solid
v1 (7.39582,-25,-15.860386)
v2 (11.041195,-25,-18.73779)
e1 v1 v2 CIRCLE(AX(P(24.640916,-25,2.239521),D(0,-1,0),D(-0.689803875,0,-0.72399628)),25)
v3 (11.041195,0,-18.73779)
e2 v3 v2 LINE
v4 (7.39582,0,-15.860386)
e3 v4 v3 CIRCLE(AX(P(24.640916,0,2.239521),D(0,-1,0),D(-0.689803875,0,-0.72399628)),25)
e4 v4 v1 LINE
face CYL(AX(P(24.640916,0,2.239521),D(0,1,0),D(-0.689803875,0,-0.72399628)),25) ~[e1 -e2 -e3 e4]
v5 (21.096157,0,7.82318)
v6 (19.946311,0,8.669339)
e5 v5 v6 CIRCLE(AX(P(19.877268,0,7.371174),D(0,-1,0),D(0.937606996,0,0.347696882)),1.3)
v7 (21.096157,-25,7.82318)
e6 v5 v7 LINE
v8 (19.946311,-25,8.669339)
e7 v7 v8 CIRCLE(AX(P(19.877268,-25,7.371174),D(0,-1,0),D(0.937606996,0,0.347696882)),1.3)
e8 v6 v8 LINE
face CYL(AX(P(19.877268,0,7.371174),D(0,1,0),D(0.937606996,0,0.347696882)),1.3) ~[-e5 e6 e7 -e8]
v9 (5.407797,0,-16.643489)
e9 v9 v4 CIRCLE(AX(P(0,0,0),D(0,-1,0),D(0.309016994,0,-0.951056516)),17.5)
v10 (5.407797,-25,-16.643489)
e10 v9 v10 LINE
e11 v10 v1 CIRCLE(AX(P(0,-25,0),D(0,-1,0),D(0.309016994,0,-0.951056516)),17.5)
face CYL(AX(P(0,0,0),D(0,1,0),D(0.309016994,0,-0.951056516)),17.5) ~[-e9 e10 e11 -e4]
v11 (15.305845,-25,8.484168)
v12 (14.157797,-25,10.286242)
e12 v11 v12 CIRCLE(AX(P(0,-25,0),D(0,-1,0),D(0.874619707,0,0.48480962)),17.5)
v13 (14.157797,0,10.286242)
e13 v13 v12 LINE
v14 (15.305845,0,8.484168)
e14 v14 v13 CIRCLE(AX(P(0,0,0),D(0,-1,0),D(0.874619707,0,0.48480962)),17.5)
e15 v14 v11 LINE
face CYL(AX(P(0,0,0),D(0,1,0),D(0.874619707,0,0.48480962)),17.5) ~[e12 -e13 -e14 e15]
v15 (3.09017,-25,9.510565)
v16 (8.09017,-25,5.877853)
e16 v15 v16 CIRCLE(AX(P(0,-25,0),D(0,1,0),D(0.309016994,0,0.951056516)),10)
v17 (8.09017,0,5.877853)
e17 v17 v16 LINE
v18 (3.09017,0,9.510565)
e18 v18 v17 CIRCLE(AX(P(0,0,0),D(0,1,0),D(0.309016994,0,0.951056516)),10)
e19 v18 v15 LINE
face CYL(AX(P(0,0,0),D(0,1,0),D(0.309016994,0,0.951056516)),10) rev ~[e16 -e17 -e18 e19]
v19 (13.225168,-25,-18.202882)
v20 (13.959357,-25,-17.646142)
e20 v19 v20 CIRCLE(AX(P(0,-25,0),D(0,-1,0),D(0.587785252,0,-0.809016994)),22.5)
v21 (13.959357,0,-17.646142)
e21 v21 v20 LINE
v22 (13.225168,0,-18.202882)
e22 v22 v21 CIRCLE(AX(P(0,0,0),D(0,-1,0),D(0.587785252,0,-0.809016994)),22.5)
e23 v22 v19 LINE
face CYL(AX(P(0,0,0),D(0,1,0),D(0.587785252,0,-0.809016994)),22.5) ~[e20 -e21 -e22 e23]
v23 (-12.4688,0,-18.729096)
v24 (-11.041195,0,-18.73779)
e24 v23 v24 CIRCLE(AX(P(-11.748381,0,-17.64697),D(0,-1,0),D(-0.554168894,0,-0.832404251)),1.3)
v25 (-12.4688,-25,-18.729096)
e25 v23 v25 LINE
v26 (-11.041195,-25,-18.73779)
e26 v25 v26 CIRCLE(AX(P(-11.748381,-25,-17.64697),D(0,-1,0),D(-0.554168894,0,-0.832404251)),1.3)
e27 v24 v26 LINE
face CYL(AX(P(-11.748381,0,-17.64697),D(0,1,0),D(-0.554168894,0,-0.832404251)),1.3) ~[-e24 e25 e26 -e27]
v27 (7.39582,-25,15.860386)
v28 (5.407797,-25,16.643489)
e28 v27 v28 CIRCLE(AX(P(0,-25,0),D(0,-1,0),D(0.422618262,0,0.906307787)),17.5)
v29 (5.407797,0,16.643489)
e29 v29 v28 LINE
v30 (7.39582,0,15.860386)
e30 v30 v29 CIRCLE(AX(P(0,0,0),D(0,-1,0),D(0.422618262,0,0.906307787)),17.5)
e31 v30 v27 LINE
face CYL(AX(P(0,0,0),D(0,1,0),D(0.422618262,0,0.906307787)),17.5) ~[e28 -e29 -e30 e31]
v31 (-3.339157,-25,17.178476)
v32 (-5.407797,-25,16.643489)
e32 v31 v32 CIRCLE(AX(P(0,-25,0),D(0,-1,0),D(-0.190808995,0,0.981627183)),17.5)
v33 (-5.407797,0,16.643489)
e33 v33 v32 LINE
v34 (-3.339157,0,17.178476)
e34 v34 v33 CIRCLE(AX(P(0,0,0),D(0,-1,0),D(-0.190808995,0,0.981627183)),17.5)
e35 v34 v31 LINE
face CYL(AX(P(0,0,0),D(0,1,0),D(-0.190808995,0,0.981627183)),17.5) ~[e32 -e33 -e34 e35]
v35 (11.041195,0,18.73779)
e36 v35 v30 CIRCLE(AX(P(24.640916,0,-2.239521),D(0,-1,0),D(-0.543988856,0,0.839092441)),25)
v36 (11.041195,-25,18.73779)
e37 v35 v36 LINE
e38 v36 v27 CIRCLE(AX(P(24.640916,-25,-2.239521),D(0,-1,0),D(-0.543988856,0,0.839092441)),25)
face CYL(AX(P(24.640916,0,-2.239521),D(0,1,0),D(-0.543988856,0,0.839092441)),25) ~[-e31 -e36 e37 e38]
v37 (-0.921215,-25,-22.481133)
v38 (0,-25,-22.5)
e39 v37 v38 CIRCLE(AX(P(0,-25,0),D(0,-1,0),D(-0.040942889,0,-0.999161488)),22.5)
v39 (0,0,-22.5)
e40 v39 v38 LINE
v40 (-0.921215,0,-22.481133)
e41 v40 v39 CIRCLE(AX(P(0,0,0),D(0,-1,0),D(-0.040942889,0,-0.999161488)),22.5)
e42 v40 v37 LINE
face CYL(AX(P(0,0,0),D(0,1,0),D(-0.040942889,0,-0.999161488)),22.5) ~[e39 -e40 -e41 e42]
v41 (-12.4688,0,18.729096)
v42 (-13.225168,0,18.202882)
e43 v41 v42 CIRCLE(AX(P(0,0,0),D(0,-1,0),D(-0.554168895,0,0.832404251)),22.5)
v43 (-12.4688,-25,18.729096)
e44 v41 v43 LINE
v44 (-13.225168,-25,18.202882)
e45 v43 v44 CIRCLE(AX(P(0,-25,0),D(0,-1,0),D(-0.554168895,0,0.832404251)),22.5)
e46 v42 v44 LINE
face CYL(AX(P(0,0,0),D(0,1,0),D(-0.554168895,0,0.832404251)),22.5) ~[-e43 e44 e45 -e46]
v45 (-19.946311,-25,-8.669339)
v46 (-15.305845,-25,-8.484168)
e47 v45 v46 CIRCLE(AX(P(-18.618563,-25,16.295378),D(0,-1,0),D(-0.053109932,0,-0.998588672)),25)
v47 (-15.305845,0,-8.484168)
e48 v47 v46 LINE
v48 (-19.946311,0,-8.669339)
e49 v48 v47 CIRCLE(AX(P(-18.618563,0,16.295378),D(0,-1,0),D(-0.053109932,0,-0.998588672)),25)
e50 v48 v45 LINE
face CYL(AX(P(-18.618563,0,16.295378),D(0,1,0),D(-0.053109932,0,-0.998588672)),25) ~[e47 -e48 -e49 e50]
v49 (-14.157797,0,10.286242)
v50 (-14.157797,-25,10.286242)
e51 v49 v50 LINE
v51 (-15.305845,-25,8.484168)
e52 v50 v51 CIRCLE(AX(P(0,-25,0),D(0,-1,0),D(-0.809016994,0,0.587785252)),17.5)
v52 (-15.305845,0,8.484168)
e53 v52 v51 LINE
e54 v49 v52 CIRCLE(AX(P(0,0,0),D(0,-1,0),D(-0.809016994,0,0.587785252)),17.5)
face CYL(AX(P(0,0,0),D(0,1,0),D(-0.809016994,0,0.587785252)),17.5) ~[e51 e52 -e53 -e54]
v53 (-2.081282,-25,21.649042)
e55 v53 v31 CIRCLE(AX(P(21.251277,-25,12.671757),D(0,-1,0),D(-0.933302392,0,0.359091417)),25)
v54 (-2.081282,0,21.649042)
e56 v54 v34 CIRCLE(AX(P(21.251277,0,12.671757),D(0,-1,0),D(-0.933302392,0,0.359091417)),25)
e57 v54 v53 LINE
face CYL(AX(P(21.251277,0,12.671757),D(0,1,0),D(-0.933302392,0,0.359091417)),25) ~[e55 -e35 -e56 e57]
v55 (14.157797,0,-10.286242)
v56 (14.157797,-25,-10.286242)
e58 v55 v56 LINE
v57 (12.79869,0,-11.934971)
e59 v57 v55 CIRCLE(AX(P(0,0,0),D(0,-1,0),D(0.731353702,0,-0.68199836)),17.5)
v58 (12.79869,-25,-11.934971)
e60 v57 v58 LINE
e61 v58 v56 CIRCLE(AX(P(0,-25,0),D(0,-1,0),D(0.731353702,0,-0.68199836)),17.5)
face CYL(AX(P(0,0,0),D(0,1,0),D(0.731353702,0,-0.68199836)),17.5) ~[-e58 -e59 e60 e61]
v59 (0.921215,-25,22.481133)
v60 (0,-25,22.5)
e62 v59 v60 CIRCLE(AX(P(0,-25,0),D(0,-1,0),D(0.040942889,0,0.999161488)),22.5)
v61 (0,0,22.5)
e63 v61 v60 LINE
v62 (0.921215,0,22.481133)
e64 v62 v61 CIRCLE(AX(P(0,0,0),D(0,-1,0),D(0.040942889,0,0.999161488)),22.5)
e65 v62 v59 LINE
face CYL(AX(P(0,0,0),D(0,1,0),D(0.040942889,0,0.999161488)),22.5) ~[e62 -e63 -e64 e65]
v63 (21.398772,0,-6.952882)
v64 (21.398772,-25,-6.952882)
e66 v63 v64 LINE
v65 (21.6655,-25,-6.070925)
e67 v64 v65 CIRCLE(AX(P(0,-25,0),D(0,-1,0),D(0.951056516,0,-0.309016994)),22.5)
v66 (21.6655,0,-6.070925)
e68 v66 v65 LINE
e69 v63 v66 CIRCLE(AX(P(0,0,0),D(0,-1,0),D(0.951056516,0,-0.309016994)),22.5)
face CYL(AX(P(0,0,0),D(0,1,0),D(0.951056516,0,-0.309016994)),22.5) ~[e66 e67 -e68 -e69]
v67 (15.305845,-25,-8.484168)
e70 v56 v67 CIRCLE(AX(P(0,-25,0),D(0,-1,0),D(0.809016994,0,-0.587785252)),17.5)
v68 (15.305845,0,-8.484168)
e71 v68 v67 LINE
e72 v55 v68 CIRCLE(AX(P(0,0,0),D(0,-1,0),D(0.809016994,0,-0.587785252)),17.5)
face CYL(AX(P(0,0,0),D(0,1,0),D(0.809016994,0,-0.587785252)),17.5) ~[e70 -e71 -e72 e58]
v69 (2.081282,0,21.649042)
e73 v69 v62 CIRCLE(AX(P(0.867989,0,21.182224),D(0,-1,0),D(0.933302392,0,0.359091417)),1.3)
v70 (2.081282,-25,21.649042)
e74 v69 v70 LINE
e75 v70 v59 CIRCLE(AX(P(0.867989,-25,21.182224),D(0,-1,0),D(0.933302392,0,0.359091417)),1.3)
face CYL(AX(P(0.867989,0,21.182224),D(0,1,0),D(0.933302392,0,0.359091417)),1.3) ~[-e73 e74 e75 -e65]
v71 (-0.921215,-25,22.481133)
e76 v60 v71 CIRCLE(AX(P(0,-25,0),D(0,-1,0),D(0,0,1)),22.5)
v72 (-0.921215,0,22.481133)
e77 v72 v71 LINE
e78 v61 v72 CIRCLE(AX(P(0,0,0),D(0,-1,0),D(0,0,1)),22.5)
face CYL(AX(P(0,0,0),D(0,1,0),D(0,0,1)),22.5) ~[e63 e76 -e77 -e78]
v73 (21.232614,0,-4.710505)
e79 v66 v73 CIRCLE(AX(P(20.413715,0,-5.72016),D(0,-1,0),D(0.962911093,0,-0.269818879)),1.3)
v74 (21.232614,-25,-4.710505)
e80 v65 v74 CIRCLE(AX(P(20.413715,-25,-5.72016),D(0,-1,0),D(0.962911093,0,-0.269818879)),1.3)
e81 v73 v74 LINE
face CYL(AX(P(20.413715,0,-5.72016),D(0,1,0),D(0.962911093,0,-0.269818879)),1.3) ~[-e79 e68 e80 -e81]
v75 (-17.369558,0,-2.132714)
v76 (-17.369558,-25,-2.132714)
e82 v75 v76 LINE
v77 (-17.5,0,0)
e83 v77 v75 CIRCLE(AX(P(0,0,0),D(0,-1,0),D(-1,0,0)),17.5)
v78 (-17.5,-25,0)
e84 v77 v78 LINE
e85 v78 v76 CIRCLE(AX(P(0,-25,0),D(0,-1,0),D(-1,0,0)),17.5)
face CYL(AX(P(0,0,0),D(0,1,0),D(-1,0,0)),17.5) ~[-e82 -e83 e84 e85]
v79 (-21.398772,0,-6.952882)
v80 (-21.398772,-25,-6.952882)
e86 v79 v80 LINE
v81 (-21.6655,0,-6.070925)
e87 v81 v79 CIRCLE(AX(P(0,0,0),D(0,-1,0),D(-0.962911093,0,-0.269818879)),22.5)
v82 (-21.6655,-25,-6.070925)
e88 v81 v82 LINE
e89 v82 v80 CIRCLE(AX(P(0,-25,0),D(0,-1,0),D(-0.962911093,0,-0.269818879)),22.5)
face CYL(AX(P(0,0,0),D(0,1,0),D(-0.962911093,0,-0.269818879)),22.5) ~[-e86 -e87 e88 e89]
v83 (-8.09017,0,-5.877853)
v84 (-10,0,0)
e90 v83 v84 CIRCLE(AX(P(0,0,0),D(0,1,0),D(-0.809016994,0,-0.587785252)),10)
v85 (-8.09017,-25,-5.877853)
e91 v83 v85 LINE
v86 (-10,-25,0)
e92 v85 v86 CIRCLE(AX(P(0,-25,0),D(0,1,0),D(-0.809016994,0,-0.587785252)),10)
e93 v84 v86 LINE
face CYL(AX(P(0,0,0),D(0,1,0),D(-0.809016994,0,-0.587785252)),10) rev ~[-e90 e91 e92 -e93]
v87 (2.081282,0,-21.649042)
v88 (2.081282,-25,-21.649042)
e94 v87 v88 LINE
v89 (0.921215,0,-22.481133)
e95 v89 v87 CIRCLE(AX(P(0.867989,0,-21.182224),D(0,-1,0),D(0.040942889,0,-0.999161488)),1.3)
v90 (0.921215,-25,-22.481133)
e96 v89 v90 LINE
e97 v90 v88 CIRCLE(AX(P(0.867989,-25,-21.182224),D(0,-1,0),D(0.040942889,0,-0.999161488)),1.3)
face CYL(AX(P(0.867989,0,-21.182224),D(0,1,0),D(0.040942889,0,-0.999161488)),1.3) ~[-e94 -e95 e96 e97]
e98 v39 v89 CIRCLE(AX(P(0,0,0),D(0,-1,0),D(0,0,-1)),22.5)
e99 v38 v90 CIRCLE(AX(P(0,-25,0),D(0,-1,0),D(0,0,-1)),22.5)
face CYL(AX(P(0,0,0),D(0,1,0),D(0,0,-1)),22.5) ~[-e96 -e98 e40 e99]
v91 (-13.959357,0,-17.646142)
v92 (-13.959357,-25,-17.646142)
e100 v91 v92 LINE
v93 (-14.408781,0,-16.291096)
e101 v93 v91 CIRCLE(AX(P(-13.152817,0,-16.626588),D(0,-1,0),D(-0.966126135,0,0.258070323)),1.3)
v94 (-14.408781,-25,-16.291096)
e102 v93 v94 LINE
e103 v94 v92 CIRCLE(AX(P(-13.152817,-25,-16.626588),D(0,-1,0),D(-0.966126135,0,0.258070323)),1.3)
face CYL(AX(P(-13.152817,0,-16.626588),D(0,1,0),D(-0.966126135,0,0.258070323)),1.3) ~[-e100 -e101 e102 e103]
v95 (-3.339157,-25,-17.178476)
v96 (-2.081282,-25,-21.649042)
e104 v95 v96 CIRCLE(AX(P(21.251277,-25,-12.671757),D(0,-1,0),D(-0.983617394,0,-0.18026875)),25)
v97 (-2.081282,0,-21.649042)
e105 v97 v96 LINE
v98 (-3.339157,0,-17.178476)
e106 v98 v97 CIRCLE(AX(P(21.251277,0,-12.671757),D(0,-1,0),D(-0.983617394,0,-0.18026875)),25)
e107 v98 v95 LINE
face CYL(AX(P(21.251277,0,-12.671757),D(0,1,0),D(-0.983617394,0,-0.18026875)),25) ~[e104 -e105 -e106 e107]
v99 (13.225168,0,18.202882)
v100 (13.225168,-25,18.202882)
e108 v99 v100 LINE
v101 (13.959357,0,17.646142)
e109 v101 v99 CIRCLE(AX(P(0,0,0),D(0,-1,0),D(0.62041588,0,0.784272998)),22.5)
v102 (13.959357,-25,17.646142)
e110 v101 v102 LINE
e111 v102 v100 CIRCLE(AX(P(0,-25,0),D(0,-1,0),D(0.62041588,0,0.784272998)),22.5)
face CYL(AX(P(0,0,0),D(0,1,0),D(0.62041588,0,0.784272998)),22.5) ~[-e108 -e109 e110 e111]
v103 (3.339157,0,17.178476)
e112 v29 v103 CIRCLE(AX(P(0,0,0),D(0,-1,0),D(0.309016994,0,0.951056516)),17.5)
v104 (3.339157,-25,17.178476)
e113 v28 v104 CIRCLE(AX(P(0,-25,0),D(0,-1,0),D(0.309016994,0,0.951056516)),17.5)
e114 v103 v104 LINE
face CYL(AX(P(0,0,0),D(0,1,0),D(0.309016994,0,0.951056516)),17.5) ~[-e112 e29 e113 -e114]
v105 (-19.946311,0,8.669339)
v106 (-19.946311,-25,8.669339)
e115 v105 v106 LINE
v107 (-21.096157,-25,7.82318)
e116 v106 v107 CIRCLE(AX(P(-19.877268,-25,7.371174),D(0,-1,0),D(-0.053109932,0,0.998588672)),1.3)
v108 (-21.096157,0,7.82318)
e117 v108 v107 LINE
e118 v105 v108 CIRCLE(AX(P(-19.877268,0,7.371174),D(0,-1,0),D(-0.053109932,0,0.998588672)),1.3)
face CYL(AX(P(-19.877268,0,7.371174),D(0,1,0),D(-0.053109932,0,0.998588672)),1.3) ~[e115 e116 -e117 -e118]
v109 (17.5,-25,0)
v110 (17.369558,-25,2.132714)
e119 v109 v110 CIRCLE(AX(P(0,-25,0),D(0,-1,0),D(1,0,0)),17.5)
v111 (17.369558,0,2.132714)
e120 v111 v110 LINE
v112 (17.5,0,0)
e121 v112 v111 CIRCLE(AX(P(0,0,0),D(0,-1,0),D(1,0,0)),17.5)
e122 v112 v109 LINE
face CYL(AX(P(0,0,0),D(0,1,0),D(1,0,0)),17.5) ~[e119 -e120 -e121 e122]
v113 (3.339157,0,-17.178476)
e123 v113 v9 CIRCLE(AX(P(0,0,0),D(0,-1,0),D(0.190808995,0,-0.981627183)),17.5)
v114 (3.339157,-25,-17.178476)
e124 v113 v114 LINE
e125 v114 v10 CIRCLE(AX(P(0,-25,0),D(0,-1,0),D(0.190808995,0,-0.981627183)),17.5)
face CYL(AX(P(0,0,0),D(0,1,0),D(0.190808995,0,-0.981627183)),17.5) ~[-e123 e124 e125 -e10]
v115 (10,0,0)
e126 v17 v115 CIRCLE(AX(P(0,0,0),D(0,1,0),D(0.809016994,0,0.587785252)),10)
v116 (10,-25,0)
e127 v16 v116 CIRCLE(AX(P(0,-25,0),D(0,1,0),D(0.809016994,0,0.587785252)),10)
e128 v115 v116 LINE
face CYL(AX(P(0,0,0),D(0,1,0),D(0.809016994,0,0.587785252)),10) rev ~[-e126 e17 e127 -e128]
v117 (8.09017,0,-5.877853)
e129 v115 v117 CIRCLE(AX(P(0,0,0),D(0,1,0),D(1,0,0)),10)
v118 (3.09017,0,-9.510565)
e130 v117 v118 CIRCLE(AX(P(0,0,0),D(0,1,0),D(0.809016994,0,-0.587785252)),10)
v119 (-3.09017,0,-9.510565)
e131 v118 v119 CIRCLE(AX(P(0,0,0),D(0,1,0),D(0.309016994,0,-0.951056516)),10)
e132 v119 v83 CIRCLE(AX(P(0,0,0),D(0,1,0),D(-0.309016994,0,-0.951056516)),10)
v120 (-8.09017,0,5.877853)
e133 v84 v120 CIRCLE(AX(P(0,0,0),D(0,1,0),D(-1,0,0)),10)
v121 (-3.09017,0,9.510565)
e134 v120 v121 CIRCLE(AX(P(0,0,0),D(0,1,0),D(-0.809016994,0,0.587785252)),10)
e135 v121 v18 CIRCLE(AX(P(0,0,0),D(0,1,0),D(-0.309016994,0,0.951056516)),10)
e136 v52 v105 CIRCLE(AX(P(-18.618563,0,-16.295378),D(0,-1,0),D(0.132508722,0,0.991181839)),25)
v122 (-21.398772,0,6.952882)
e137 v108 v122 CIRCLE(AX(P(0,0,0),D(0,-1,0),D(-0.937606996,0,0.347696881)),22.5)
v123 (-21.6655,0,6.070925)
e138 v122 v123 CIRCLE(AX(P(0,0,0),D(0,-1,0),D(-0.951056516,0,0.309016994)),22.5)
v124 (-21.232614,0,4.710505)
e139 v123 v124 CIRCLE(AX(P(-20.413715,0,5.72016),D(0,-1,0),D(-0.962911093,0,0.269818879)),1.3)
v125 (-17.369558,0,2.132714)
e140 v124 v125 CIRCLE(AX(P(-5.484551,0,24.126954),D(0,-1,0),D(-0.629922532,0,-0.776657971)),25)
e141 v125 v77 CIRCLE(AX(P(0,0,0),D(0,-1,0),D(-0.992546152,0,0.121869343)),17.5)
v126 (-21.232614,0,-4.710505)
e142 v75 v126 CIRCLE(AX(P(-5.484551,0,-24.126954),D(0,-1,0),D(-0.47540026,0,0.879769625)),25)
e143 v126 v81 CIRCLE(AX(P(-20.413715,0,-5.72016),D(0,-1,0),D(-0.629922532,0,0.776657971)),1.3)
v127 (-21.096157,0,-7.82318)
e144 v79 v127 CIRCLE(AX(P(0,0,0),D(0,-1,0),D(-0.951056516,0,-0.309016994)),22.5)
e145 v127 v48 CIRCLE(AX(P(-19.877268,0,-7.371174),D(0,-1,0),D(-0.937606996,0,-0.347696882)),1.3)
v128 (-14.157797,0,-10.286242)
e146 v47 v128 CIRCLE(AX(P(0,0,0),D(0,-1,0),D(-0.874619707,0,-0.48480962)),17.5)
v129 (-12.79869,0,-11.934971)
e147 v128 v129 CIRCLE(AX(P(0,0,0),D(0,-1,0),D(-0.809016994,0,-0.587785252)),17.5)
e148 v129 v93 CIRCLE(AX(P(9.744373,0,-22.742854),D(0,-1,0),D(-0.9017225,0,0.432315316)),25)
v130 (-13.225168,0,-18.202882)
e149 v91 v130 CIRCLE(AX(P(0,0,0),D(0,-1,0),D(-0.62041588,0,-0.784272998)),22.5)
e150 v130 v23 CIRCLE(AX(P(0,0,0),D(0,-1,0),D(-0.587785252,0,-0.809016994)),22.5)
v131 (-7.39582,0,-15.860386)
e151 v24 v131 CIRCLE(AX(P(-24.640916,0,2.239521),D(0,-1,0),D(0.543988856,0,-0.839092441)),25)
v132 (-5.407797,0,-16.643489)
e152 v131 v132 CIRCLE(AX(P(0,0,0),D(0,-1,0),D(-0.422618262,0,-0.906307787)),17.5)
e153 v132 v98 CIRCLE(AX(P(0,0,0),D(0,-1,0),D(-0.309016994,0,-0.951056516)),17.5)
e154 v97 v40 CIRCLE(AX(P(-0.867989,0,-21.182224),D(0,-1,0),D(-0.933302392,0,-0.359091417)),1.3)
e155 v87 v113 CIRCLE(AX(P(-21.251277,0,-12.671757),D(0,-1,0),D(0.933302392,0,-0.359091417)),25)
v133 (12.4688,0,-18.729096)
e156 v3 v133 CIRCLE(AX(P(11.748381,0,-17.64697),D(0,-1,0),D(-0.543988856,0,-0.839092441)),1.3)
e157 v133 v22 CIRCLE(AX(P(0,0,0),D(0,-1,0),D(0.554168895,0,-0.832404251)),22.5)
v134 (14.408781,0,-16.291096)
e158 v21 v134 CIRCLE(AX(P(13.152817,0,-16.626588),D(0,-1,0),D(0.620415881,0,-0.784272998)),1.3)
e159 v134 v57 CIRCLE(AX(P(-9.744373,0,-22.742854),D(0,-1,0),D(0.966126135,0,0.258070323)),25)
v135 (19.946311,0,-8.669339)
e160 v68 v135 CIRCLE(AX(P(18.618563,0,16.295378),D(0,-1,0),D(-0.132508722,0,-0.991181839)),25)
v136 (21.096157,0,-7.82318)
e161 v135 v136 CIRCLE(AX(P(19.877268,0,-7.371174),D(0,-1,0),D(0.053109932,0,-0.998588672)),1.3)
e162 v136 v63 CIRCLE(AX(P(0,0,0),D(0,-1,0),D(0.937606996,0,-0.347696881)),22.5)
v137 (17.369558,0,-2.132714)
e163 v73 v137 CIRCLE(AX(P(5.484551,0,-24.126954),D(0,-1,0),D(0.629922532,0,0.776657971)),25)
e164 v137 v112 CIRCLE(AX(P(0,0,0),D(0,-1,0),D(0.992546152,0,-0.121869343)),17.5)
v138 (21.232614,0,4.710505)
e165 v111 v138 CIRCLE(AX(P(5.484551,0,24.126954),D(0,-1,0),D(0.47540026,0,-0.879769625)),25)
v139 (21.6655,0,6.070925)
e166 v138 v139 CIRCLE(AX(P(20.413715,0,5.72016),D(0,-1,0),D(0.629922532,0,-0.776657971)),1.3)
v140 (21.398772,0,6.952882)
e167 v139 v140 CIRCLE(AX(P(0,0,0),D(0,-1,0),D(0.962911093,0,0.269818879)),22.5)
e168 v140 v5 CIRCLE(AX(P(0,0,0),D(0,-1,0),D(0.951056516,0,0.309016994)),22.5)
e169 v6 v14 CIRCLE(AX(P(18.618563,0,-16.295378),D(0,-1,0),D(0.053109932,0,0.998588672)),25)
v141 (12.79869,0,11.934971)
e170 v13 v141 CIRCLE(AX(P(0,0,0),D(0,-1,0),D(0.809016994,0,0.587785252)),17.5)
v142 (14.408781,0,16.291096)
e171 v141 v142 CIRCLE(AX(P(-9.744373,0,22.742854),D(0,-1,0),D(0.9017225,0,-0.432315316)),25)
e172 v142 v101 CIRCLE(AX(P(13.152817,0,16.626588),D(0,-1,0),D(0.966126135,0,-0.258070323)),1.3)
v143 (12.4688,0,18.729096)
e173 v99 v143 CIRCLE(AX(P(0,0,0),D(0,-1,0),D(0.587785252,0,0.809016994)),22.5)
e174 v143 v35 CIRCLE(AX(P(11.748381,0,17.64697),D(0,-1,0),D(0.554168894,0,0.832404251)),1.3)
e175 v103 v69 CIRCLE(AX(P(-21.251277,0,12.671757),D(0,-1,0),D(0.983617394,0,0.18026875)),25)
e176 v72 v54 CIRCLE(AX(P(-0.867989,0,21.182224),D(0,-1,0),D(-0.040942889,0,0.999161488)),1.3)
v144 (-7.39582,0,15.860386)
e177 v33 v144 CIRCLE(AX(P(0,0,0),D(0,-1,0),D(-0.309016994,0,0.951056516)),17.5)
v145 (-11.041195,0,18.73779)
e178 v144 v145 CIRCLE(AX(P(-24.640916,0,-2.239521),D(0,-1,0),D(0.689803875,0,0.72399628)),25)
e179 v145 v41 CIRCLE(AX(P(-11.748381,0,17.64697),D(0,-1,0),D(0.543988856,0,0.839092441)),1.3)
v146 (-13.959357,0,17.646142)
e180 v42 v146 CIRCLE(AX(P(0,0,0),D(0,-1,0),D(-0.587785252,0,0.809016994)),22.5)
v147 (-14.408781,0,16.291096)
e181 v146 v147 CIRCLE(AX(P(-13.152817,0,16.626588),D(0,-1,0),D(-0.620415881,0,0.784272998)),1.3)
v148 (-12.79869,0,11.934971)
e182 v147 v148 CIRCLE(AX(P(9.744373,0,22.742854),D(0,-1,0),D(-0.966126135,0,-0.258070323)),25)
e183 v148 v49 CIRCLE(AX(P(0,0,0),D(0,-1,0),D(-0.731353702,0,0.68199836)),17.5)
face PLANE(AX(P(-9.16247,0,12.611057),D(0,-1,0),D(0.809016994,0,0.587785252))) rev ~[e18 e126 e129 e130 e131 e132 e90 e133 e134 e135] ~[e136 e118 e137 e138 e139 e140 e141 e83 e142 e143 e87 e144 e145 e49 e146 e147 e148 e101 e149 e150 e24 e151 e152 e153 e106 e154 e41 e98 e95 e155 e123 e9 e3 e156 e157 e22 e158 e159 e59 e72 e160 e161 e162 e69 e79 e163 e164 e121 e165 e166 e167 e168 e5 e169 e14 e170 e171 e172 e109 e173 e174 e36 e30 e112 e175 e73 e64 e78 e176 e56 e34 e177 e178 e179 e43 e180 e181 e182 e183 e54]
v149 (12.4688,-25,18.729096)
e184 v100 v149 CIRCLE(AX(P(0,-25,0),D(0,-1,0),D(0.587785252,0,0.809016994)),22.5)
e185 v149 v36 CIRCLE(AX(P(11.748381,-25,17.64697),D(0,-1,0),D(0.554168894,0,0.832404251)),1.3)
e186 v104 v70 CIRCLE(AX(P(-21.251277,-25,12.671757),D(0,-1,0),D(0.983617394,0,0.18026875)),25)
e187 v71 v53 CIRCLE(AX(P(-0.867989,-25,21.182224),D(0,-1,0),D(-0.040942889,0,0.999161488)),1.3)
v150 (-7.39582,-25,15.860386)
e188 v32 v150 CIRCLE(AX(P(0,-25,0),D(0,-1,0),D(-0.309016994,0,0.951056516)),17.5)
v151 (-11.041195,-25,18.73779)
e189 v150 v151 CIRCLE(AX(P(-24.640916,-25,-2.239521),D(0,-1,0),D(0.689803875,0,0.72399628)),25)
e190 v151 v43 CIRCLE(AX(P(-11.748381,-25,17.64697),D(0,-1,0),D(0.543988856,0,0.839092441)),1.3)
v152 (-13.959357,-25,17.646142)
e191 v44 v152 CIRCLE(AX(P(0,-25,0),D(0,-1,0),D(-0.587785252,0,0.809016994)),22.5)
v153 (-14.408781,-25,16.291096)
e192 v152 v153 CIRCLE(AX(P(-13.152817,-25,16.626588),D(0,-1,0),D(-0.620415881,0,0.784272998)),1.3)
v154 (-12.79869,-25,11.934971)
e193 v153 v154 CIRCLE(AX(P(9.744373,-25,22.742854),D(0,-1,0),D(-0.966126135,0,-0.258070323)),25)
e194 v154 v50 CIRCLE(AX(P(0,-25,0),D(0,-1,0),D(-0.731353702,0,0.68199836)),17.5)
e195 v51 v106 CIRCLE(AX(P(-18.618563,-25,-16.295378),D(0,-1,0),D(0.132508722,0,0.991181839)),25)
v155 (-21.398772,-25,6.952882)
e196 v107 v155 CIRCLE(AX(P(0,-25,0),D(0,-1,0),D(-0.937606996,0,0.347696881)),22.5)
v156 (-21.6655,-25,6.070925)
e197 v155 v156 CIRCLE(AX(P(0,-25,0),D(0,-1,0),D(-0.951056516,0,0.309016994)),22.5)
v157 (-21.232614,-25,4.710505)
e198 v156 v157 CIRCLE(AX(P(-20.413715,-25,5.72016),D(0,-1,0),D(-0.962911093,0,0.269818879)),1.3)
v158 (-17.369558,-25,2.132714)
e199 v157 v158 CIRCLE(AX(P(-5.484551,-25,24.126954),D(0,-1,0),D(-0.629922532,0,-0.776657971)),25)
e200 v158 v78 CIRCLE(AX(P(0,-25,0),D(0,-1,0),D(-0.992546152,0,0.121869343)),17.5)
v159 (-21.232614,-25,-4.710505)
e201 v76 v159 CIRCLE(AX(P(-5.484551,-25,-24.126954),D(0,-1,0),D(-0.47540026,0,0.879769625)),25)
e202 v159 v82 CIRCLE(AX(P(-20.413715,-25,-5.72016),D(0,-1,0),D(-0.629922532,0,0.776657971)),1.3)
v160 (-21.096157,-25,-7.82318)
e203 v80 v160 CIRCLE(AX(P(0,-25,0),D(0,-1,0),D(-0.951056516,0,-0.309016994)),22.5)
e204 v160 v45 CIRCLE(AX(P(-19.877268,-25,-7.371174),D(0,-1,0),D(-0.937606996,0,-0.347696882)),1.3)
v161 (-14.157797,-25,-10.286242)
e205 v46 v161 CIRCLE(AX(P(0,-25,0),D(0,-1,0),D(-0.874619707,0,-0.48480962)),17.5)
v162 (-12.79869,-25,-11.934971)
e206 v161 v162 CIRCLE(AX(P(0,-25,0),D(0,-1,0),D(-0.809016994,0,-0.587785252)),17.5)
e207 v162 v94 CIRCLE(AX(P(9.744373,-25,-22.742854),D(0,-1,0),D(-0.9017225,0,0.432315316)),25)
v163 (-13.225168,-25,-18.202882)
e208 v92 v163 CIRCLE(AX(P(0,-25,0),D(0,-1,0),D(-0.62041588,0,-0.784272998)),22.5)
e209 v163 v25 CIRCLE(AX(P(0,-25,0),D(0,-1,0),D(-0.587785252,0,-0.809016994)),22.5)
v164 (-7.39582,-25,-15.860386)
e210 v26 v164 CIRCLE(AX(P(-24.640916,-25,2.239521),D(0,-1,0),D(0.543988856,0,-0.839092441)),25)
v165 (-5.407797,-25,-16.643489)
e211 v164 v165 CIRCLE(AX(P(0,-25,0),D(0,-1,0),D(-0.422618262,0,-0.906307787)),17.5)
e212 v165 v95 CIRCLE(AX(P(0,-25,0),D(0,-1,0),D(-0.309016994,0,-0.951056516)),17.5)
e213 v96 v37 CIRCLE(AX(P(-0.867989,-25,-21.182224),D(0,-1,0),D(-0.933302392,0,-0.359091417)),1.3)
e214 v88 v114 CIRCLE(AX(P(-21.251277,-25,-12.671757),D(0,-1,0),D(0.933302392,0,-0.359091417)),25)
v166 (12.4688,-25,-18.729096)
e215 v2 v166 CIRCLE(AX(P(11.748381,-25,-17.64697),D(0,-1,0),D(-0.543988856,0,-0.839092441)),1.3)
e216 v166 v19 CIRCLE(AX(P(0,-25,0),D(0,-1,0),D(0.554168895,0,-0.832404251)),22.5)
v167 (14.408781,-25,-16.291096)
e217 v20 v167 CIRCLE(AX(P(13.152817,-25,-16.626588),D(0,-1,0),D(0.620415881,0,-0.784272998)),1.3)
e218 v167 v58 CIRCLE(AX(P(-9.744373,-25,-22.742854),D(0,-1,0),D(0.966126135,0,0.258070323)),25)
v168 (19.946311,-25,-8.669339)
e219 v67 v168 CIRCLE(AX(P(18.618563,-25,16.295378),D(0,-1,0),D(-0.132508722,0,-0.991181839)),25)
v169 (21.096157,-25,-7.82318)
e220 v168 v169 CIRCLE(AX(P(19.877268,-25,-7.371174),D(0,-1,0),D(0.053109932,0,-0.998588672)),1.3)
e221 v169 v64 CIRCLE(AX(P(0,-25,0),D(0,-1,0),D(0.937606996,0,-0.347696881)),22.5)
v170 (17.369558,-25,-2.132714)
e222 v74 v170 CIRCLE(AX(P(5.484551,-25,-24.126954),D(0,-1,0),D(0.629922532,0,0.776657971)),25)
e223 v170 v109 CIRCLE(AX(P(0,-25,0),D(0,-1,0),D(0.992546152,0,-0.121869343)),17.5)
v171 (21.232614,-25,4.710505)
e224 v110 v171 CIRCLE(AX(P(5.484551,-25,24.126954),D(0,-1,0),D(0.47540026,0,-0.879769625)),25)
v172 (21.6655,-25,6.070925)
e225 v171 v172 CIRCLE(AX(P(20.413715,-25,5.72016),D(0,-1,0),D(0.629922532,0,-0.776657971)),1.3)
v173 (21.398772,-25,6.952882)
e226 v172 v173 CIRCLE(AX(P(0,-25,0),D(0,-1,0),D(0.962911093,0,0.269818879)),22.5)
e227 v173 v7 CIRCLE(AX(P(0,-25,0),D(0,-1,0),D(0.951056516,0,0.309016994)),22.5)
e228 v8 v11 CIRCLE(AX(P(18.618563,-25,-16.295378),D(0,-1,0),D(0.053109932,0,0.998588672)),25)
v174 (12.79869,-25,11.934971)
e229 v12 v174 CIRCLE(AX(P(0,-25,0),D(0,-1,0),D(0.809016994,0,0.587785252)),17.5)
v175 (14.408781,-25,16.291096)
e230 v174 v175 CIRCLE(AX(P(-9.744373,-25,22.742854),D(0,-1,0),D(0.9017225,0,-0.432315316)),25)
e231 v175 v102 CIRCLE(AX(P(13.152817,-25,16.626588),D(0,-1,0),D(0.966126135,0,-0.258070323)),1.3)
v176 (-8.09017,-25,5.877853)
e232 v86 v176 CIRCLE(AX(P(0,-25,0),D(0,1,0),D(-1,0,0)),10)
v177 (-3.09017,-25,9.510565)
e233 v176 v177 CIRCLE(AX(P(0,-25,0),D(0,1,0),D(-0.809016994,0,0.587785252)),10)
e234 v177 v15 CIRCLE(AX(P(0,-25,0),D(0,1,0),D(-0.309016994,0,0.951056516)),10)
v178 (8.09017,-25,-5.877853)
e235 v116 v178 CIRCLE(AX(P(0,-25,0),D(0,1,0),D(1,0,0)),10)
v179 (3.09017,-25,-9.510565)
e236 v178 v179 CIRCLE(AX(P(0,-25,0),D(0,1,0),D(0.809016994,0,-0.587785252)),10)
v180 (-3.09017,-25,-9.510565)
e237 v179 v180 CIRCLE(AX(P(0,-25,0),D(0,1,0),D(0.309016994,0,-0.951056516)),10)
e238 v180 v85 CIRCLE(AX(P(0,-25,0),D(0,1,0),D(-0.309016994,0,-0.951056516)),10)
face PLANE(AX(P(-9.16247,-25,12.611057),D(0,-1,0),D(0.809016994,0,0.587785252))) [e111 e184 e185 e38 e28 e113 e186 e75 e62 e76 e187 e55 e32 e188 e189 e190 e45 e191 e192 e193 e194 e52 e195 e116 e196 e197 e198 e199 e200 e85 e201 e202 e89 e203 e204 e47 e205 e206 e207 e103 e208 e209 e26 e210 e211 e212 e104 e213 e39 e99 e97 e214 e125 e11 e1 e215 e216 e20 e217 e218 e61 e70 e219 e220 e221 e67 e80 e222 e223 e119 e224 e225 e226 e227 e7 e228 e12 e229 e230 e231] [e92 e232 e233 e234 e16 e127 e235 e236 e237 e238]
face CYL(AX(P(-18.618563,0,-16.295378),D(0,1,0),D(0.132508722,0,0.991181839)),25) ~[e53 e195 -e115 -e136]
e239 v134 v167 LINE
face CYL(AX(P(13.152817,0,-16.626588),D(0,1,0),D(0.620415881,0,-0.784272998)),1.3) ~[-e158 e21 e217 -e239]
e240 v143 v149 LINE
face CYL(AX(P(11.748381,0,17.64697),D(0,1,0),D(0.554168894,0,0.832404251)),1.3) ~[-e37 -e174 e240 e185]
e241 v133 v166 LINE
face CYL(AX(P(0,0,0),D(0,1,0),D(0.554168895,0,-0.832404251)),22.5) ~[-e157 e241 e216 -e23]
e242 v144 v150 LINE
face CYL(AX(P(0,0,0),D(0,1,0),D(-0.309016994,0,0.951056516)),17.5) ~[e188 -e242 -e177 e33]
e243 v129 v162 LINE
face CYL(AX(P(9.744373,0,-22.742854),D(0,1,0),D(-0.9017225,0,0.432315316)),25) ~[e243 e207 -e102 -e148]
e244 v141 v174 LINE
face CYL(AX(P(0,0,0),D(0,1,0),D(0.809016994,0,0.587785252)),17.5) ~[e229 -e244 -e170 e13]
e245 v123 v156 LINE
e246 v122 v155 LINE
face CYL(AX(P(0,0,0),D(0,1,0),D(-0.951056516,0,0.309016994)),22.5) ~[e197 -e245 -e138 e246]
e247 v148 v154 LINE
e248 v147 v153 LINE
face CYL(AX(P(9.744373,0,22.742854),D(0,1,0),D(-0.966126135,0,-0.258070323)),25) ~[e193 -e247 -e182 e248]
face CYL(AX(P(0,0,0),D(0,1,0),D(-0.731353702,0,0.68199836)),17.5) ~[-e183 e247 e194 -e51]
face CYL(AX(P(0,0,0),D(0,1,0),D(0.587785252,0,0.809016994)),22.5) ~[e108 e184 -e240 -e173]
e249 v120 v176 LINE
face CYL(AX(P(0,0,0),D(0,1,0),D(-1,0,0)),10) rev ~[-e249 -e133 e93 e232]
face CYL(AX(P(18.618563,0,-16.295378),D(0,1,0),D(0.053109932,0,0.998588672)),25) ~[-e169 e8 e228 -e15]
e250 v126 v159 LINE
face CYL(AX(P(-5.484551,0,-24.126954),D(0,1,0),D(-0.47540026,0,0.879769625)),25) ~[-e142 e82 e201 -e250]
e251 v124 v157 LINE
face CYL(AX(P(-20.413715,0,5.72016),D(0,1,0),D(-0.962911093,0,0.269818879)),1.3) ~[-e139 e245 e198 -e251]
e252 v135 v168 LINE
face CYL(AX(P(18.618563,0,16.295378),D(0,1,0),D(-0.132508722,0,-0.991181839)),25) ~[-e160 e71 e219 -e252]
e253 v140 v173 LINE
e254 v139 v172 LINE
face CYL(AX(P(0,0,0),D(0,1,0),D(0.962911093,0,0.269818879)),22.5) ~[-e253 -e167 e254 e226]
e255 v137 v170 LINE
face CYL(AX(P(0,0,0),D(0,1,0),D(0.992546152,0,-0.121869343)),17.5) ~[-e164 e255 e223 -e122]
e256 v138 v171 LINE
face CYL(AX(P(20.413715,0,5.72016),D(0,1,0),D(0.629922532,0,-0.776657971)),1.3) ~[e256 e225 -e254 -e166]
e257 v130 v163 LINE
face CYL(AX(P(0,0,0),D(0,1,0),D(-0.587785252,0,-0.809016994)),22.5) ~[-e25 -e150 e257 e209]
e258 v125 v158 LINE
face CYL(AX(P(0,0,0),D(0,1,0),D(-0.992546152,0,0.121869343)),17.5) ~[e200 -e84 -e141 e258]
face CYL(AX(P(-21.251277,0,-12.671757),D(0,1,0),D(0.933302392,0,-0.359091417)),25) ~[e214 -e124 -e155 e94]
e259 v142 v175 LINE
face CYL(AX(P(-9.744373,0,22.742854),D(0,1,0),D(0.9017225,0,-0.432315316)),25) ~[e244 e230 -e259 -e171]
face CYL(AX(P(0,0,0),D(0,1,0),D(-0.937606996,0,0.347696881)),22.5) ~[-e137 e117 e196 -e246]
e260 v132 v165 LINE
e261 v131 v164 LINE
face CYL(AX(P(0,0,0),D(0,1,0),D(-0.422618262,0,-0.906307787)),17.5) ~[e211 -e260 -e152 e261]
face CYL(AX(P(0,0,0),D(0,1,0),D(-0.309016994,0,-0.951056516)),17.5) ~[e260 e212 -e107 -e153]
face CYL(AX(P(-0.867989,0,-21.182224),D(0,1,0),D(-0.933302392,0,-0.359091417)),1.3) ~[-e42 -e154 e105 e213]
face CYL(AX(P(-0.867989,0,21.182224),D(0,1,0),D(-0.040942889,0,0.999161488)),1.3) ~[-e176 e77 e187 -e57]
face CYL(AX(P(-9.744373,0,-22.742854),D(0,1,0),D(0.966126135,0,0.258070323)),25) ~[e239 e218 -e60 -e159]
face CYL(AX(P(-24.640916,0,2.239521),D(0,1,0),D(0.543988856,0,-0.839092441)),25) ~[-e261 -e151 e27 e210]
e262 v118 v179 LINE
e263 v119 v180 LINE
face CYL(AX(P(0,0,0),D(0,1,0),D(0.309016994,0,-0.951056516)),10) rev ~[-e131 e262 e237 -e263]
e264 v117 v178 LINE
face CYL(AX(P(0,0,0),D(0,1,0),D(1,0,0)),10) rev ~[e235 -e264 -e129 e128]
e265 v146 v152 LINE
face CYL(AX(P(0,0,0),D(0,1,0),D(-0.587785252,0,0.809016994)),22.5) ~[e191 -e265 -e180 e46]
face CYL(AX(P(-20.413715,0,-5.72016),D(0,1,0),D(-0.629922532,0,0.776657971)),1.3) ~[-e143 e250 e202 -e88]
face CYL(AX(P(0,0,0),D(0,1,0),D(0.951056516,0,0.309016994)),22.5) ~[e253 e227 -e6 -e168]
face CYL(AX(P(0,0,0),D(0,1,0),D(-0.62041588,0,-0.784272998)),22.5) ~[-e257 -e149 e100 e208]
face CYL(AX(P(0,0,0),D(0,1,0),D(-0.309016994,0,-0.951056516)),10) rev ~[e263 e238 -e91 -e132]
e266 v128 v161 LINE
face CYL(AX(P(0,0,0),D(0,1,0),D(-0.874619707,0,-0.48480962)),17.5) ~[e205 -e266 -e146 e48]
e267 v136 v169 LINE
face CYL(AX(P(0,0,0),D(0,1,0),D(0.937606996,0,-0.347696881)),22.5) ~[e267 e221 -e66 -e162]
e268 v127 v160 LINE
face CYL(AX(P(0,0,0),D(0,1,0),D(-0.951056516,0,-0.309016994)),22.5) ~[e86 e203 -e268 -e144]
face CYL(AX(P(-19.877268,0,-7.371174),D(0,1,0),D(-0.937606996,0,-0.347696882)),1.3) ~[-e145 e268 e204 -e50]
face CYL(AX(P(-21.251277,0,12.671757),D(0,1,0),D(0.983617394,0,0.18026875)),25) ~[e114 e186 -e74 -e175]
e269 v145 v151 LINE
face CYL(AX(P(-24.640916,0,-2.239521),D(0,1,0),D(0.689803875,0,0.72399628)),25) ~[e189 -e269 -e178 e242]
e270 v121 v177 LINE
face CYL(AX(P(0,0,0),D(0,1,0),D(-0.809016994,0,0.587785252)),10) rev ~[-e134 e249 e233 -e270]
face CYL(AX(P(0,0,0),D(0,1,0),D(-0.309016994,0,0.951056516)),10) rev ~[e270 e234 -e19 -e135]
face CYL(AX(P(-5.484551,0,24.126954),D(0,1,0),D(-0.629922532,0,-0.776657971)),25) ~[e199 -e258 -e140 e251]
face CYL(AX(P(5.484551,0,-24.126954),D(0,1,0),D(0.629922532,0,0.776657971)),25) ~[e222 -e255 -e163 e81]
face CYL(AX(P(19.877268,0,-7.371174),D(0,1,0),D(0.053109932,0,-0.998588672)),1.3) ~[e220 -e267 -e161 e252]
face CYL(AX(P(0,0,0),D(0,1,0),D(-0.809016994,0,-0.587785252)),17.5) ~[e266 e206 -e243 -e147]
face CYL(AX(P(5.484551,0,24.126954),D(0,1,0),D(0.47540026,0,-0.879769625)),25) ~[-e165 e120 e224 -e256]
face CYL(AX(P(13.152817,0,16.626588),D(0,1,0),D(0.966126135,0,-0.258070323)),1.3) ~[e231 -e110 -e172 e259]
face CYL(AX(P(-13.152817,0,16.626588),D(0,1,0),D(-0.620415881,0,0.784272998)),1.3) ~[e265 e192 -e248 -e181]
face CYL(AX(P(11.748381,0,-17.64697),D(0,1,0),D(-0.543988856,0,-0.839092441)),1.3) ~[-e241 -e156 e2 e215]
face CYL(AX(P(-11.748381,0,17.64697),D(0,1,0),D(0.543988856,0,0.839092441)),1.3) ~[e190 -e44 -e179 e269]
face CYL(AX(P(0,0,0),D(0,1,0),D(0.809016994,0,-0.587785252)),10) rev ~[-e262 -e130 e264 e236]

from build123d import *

# Parameters (mm, degrees)
F1_DEPTH = 25
F2_COUNT = 10


with BuildPart() as f1:
    # F0 (on Front) → F1 (new body)
    with BuildSketch(Plane.XZ):
        with BuildLine():
            ThreePointArc((-3.0901699437, 9.510565163), (0, 10), (3.0901699437, 9.510565163))
            Line((3.0901699437, 9.510565163), (5.4077974016, 16.6434890352))
            ThreePointArc((5.4077974016, 16.6434890352), (4.381650071, 16.9425837066), (3.3391574191, 17.1784757103))
            ThreePointArc((3.3391574191, 17.1784757103), (2.8142548796, 19.4430311858), (2.081282357, 21.6490423958))
            ThreePointArc((2.081282357, 21.6490423958), (1.6256906438, 22.2385798355), (0.9212150037, 22.4811334883))
            ThreePointArc((0.9212150037, 22.4811334883), (0.4607040884, 22.4952828776), (0, 22.5))
            ThreePointArc((0, 22.5), (-0.4607040884, 22.4952828776), (-0.9212150037, 22.4811334883))
            ThreePointArc((-0.9212150037, 22.4811334883), (-1.6256906438, 22.2385798355), (-2.081282357, 21.6490423958))
            ThreePointArc((-2.081282357, 21.6490423958), (-2.8142548796, 19.4430311858), (-3.3391574191, 17.1784757103))
            ThreePointArc((-3.3391574191, 17.1784757103), (-4.381650071, 16.9425837066), (-5.4077974016, 16.6434890352))
            Line((-5.4077974016, 16.6434890352), (-3.0901699437, 9.510565163))
        make_face()
    extrude(amount=F1_DEPTH)

    # F2: F1 ×10 about axis
    f2_axis = Axis((0, 0, 0), (0, 1, 0))


with BuildPart() as f1_1:
    add(f1.part)
    for i in range(1, F2_COUNT):
        add(f1.part.rotate(f2_axis, i * 360 / F2_COUNT))


solid = f1_1.part
